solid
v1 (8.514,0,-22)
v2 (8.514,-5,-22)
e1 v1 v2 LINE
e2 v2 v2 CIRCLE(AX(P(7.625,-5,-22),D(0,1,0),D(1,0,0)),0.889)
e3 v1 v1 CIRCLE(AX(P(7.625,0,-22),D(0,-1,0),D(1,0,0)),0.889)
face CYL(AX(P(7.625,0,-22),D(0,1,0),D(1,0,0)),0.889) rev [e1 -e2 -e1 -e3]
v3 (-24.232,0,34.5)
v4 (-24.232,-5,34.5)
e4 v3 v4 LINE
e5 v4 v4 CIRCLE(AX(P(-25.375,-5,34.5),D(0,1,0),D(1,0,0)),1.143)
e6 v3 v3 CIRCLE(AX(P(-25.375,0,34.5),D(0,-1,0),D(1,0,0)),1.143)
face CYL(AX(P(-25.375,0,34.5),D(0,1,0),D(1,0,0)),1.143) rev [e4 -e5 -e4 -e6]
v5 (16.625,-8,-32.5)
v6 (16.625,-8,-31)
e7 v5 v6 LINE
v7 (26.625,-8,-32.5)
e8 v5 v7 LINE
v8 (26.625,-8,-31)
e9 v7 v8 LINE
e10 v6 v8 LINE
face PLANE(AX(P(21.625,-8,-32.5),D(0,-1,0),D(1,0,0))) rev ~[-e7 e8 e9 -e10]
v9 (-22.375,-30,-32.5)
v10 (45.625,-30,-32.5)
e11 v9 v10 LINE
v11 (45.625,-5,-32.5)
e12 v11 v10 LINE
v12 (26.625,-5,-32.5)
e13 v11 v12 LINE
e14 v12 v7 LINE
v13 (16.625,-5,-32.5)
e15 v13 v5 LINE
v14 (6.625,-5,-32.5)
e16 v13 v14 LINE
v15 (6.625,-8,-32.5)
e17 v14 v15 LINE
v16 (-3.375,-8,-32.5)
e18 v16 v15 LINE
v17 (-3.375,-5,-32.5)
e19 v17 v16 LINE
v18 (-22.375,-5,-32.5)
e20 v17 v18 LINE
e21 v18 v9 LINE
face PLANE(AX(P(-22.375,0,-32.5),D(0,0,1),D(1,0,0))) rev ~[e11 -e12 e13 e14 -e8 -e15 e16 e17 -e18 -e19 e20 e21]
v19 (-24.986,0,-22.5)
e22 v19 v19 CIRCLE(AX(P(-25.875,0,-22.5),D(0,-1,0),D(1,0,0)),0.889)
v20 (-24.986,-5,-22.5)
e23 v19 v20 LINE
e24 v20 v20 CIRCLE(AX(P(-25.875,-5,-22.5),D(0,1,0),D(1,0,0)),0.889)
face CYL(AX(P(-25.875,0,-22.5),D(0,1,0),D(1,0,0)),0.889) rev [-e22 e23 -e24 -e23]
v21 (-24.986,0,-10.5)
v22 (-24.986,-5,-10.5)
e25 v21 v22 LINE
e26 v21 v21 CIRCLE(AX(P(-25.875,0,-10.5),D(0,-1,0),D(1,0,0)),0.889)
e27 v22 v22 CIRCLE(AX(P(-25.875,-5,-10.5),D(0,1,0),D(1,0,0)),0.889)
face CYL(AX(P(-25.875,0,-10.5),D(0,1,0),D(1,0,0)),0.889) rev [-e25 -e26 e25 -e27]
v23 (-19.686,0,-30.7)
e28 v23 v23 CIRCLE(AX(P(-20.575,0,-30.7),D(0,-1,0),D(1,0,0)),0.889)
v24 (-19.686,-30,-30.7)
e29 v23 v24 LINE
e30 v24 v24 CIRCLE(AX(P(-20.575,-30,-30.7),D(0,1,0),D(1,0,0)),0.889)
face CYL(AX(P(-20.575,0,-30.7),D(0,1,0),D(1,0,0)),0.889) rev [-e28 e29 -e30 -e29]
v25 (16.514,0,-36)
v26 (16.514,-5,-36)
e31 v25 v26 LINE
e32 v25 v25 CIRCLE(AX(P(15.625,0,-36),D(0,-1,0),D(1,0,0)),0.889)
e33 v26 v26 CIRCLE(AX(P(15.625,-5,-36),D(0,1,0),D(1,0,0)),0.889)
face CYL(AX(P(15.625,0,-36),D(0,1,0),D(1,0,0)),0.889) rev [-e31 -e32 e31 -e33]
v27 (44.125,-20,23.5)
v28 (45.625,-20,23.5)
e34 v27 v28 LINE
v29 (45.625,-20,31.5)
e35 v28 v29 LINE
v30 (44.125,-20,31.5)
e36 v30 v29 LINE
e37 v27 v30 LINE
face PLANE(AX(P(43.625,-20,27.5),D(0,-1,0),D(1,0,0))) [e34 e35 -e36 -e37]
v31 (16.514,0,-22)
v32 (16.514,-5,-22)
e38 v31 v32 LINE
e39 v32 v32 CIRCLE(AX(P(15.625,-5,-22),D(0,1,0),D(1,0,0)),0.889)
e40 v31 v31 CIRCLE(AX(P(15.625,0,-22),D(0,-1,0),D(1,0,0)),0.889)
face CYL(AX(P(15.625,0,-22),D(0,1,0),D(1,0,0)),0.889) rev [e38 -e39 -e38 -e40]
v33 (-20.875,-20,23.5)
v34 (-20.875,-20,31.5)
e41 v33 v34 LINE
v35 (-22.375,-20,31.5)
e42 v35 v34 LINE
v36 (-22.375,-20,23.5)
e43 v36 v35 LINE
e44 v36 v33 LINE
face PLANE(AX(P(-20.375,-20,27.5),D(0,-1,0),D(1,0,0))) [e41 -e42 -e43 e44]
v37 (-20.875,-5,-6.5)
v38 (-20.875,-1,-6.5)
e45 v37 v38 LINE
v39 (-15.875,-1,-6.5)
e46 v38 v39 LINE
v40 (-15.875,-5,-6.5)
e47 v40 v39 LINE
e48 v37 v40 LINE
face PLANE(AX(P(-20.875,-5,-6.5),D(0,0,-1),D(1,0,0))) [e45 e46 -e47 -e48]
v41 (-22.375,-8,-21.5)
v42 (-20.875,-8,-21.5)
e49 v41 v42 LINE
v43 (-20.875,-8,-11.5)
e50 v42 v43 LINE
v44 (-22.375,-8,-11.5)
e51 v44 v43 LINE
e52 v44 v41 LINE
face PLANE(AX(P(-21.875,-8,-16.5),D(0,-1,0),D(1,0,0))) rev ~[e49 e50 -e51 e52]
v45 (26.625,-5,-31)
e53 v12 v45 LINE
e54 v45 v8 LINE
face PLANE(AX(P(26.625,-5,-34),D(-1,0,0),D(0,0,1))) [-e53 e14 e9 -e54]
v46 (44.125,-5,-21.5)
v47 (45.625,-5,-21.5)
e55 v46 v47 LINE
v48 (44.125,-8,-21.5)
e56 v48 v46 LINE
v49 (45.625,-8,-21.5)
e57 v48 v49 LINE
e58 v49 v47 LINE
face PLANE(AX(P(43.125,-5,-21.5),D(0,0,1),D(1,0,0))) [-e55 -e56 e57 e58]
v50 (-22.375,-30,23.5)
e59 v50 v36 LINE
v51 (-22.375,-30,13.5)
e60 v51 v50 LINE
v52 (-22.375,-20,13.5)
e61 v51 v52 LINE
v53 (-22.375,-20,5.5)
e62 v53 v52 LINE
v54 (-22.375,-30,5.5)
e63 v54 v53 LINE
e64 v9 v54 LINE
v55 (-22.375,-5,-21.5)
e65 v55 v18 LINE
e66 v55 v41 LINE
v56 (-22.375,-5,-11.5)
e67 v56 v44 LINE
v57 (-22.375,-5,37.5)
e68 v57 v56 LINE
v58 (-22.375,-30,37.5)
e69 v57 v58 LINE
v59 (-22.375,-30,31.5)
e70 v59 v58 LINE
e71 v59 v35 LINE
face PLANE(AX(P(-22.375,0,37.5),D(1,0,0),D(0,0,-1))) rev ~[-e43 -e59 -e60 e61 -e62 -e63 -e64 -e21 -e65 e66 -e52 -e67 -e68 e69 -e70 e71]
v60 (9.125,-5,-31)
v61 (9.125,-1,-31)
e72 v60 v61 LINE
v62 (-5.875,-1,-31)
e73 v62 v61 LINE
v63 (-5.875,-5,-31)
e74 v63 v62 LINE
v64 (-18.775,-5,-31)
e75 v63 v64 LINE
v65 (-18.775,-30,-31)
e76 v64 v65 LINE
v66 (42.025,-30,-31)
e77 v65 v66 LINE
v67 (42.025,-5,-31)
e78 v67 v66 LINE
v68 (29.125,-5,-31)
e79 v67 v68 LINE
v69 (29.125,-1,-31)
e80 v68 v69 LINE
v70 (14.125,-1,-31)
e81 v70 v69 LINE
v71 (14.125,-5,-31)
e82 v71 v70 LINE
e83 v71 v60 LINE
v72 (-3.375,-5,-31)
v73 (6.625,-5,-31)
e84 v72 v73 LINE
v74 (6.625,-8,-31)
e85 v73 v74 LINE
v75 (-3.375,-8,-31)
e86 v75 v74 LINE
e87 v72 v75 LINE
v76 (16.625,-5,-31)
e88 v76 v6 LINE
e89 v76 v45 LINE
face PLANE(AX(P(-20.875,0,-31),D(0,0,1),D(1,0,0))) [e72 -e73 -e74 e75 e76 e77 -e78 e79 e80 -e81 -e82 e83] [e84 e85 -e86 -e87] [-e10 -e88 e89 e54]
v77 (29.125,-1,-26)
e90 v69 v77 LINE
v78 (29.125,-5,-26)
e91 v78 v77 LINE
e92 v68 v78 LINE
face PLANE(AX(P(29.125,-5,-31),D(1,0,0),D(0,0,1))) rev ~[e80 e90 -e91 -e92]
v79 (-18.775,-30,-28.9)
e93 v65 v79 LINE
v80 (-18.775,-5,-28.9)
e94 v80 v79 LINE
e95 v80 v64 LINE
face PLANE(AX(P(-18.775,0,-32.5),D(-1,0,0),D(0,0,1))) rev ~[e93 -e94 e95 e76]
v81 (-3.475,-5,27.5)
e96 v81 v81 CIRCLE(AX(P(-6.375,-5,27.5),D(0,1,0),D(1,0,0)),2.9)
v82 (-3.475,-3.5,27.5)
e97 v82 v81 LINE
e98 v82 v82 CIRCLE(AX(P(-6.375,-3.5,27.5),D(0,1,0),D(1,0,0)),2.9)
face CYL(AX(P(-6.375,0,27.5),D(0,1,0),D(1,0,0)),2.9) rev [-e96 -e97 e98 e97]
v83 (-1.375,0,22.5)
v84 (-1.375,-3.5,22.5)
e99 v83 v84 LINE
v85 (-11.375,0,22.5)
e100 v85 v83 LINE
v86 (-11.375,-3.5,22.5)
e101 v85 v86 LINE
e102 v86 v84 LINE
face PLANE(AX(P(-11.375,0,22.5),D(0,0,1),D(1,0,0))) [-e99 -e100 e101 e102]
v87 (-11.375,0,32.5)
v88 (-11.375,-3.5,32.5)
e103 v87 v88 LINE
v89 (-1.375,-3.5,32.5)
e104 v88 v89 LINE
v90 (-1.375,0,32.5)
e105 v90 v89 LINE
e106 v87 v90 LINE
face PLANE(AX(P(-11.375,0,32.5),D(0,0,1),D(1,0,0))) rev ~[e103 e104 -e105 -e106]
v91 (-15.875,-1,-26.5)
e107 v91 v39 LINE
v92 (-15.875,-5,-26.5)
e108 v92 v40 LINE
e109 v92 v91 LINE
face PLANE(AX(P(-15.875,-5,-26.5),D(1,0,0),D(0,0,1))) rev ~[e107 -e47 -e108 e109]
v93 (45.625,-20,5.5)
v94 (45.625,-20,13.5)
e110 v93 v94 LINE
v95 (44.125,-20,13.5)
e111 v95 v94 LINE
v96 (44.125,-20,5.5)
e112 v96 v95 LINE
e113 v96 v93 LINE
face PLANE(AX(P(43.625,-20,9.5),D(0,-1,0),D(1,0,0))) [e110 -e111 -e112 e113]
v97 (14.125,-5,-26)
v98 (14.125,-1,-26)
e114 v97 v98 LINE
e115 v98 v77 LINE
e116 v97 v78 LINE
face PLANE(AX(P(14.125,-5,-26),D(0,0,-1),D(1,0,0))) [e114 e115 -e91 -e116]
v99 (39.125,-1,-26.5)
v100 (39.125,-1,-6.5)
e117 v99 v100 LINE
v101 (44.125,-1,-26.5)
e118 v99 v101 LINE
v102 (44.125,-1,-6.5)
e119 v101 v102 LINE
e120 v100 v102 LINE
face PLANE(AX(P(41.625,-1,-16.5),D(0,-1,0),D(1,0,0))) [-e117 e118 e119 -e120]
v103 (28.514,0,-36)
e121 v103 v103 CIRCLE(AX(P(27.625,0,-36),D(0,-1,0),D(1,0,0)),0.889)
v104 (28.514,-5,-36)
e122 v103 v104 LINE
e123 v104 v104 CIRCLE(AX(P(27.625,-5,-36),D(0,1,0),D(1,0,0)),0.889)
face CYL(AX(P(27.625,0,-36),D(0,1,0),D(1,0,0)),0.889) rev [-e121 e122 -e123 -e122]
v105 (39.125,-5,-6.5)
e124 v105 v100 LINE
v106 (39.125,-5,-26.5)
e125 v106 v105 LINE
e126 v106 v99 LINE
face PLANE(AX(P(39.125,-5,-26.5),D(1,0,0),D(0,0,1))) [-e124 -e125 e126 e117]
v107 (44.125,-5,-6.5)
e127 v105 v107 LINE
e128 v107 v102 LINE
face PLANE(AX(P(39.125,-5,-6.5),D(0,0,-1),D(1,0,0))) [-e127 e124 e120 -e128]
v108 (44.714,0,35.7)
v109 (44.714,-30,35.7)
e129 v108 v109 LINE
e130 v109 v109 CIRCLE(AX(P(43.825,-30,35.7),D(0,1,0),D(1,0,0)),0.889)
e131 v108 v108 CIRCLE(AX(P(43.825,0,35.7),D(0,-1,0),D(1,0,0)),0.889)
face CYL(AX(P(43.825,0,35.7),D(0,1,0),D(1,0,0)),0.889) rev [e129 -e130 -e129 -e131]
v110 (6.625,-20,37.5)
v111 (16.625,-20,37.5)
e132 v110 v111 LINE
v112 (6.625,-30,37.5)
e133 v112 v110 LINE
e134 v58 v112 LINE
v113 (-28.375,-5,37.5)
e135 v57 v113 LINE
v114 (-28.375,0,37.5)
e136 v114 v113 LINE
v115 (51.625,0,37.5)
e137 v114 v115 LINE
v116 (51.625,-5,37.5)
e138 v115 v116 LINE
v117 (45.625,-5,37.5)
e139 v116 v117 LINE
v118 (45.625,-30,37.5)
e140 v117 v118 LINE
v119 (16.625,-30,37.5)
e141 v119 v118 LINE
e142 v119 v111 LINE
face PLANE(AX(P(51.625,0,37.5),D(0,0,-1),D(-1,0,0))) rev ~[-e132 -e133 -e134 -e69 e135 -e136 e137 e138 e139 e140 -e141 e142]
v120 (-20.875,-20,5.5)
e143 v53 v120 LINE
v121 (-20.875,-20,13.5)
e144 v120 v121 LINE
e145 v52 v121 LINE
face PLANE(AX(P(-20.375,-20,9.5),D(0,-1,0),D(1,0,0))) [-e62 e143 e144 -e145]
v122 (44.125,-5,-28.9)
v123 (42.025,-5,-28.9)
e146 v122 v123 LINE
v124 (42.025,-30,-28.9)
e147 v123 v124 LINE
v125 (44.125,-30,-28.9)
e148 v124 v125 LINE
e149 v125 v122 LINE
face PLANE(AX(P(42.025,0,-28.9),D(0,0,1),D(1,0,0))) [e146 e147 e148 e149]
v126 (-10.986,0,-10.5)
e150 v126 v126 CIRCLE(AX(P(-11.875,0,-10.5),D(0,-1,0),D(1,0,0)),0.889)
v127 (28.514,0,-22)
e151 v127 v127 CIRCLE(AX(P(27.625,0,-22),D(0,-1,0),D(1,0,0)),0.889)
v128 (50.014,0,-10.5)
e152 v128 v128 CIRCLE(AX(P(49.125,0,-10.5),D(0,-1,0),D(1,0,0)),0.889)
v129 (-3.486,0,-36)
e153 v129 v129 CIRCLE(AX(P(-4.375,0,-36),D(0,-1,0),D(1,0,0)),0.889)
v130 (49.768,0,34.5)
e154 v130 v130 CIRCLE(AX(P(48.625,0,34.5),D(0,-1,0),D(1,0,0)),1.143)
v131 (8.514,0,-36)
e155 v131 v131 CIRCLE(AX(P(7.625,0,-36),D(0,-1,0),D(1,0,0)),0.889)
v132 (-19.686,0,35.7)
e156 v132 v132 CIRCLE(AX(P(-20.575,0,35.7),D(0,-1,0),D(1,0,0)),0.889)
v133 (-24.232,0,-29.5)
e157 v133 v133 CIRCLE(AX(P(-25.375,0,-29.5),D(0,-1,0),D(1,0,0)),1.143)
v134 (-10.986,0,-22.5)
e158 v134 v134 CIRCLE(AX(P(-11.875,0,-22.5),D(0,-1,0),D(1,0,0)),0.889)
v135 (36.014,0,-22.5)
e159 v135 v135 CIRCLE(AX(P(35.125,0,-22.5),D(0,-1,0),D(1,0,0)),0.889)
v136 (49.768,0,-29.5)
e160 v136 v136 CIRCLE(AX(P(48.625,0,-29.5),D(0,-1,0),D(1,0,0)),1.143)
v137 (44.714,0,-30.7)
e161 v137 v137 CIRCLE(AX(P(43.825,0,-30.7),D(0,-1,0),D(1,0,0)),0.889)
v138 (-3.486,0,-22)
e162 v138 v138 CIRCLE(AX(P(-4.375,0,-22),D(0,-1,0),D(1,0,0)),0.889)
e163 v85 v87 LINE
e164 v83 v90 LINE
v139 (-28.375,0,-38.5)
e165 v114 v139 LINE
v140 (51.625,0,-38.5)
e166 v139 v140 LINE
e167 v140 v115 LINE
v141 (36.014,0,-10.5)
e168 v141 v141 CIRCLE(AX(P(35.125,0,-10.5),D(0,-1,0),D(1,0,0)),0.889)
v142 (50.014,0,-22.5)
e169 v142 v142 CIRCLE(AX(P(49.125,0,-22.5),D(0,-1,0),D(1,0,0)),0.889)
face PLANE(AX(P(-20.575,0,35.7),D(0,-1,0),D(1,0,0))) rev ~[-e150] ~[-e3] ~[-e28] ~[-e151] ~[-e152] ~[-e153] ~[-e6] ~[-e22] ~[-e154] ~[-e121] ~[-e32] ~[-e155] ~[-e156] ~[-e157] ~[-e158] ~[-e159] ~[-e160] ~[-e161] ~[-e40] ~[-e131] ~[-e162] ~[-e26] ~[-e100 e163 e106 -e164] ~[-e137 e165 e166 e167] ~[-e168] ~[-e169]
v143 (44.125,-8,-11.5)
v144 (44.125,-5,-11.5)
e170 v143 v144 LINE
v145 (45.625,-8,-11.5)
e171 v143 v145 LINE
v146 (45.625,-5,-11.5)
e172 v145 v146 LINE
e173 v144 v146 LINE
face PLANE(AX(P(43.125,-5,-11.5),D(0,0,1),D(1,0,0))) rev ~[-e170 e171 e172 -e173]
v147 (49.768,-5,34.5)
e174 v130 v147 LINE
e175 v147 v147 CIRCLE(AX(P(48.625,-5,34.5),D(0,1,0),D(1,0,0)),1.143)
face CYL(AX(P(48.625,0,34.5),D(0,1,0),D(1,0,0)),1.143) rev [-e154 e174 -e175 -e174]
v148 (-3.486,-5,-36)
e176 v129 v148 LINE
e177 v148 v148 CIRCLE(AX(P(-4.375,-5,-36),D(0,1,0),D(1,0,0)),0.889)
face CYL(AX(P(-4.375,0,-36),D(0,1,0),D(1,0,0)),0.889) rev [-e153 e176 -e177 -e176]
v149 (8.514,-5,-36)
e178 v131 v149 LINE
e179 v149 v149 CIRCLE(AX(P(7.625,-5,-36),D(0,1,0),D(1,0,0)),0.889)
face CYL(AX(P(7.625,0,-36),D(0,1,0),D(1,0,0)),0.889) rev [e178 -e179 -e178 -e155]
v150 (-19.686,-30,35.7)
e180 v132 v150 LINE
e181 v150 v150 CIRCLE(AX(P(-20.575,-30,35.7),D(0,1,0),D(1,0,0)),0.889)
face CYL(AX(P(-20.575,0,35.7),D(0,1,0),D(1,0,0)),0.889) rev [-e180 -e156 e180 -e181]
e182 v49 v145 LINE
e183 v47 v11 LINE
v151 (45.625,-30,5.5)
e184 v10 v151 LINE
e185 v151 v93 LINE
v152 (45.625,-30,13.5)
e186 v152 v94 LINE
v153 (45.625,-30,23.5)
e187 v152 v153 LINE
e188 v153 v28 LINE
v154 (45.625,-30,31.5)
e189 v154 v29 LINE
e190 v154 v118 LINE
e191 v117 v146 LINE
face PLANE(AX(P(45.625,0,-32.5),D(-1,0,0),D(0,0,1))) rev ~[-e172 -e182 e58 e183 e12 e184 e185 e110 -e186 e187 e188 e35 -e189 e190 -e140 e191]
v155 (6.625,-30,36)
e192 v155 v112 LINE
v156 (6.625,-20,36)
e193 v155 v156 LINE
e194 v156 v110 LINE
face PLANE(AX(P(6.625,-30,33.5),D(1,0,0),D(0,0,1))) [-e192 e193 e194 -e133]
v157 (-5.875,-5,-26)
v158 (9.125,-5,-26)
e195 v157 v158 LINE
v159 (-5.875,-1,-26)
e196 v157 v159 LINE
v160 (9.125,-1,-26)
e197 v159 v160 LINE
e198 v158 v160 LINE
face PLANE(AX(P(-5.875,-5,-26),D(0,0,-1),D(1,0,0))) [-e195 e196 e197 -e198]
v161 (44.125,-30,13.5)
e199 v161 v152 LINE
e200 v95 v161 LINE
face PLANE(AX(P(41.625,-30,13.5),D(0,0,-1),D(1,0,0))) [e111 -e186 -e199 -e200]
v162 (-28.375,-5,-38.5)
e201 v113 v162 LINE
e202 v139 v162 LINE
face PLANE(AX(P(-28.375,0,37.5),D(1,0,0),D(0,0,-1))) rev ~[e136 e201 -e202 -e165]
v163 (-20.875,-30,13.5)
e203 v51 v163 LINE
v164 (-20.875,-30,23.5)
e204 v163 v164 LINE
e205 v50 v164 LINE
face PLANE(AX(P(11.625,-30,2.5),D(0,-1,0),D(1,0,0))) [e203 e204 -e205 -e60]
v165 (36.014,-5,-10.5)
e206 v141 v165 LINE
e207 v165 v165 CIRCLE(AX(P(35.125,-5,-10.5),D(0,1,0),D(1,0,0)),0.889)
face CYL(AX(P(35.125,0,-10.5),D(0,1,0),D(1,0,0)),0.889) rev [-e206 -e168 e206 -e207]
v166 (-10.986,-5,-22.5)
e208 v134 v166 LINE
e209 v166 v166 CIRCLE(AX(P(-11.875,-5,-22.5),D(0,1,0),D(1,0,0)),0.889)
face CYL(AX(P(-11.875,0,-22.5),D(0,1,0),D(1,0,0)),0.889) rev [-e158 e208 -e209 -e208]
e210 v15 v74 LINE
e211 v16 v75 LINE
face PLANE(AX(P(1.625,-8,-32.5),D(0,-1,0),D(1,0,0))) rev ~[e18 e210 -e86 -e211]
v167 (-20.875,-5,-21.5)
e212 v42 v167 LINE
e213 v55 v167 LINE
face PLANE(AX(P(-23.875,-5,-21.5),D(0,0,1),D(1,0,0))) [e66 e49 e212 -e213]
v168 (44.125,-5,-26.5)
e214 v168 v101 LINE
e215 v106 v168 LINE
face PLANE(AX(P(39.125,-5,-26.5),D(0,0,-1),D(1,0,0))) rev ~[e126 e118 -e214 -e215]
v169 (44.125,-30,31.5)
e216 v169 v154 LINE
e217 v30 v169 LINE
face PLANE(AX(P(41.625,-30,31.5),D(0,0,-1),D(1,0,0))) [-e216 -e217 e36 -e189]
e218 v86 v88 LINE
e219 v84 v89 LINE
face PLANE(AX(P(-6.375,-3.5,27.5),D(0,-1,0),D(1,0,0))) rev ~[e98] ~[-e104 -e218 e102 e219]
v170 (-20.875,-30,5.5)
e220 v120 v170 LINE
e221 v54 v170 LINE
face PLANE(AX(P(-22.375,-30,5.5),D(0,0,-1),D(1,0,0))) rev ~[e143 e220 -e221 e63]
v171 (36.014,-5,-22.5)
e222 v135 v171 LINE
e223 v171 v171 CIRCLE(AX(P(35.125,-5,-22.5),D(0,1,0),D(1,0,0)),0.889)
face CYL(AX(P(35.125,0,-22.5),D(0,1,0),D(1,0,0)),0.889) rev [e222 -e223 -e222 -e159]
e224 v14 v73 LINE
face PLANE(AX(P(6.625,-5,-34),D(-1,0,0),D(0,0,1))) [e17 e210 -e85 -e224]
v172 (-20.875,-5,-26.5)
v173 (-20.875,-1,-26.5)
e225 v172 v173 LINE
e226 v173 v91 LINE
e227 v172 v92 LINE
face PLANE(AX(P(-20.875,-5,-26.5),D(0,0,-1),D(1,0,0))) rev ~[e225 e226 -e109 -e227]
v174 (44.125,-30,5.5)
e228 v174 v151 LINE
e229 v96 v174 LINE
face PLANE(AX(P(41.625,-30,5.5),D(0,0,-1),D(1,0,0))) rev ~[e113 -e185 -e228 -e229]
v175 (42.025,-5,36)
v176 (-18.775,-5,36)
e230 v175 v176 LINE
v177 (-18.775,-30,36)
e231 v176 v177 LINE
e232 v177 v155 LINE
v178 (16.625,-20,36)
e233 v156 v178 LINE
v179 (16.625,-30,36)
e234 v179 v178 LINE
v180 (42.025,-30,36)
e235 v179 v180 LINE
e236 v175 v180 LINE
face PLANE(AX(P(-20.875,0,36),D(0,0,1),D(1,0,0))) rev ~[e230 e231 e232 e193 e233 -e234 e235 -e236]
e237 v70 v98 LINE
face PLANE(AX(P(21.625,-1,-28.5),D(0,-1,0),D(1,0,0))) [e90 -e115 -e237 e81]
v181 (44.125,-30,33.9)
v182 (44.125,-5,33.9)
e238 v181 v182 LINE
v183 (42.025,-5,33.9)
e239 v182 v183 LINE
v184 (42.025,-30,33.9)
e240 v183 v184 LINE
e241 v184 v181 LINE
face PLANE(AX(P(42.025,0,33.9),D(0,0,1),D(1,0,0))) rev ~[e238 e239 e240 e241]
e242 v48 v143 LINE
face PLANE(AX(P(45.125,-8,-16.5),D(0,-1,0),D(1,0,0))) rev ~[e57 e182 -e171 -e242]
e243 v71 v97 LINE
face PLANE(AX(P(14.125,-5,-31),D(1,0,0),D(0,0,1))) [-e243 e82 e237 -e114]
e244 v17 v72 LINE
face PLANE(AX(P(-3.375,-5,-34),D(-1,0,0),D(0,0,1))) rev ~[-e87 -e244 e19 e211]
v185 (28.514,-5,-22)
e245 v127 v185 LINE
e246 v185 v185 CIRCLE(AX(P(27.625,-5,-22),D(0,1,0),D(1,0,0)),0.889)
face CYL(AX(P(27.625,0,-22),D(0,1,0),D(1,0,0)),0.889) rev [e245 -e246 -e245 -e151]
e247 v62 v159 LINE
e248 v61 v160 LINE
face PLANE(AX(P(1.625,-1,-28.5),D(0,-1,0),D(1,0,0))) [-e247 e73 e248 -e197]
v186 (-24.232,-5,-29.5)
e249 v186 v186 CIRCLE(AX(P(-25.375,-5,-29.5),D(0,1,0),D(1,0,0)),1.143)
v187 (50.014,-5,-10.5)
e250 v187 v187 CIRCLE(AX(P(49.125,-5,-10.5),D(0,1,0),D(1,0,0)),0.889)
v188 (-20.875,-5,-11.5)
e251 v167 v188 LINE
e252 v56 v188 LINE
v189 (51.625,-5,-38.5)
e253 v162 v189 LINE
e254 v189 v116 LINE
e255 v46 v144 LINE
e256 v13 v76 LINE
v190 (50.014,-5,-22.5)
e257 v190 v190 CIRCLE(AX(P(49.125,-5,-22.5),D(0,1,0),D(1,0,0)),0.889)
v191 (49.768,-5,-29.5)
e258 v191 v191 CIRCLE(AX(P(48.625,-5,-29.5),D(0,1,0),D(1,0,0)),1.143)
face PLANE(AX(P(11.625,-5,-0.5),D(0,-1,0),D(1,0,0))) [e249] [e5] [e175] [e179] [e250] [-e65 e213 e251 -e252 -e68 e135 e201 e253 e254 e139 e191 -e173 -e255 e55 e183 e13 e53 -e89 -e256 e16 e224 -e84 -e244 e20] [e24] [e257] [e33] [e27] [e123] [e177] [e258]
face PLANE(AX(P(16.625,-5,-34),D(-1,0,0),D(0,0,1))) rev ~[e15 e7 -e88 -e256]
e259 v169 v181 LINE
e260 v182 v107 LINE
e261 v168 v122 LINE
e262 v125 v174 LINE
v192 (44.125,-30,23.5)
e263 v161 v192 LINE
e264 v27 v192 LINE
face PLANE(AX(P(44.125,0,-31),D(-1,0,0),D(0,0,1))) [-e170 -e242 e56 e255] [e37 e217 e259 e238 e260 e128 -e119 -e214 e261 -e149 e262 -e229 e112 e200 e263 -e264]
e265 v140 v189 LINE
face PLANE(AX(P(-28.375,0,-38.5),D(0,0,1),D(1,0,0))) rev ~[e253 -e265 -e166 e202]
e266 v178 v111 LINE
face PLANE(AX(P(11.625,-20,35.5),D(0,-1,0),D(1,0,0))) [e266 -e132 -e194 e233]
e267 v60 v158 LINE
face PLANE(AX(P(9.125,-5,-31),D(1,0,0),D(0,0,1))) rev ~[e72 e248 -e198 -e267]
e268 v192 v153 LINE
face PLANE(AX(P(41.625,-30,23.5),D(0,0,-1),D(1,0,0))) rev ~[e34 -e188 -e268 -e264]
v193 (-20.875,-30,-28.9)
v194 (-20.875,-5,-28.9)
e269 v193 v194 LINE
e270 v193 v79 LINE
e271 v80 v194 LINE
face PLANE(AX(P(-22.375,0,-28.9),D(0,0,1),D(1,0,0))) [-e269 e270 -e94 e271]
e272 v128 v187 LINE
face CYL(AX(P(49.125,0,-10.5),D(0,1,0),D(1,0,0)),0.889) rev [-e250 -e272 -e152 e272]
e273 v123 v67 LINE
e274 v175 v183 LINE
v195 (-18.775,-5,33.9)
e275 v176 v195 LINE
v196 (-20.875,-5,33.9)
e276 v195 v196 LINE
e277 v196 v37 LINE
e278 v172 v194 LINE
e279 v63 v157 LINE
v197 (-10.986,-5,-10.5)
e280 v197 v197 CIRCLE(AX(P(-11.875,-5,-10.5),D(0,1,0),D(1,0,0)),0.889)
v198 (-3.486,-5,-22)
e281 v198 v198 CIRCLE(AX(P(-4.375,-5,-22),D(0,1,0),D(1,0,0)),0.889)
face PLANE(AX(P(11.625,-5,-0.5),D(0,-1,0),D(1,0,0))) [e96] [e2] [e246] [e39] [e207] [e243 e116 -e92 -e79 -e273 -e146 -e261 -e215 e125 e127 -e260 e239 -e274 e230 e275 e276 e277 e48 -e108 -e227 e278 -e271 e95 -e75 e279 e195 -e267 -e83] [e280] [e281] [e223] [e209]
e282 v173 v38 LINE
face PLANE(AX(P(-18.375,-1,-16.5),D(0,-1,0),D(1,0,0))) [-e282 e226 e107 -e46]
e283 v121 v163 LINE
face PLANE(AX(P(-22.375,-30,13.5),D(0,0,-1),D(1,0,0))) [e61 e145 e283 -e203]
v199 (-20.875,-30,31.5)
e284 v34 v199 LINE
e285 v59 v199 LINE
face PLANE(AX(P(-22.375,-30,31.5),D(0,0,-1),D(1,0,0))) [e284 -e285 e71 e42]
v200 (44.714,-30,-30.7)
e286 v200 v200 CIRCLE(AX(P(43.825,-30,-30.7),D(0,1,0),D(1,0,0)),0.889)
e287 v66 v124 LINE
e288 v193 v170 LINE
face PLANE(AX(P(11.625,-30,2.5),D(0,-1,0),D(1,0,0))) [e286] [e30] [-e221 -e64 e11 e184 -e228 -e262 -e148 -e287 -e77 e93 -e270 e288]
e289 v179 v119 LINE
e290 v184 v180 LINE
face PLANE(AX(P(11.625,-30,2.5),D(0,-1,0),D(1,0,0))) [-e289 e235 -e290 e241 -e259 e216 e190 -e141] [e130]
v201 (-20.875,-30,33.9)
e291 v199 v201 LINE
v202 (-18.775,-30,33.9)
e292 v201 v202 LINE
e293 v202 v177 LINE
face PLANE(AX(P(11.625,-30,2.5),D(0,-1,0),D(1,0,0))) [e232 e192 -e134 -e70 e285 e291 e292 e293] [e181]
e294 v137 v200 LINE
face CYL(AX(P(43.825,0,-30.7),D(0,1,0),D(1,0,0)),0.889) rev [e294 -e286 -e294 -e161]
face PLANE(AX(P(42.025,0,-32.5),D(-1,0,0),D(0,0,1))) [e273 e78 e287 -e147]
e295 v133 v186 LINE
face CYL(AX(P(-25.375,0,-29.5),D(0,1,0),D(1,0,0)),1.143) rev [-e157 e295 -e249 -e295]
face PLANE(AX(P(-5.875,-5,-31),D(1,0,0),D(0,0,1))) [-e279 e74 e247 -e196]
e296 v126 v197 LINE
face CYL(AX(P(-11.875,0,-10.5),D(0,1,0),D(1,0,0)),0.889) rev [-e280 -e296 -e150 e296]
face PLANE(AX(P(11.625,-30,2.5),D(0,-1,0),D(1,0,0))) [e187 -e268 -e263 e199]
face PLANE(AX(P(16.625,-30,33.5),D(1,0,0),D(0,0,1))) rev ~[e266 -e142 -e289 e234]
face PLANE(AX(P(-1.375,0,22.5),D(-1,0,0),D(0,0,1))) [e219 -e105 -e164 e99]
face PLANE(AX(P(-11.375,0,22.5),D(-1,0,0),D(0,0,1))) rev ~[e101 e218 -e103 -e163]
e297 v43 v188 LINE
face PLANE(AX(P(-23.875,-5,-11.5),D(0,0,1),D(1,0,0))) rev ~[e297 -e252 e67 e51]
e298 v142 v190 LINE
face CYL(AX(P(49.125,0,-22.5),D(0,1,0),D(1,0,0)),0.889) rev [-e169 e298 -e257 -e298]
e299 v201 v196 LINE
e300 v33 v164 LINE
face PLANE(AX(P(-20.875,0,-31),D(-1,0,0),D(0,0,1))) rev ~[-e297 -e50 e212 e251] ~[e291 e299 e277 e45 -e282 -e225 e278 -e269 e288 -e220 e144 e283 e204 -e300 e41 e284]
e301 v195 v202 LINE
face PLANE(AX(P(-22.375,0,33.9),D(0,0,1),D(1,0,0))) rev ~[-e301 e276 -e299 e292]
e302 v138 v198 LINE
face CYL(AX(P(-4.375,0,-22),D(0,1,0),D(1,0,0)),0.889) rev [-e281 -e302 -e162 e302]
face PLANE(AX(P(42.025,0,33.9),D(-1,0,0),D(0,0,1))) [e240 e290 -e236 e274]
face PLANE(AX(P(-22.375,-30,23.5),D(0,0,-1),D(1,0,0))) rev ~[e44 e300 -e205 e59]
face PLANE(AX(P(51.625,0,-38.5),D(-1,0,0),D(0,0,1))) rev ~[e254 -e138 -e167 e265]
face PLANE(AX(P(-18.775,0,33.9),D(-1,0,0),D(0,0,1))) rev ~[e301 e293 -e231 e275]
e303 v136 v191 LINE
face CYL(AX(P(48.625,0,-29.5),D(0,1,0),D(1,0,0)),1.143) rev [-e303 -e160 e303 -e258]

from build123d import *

# Parameters (mm, degrees)
F4_DEPTH  = 5
F5_W      = 65
F5_H      = 67
F7_DEPTH  = 30
F8_W      = 5
F8_H      = 20
F8_W_2    = 15
F8_H_2    = 5
F9_DEPTH  = 4
F6_W      = 3.6
F6_H      = 3.6
F10_DEPTH = 30
F11_W     = 4
F11_H     = 10
F11_W_2   = 10
F11_H_2   = 3
F12_DEPTH = 3
F13_W     = 10
F13_H     = 4
F13_W_2   = 4
F13_H_2   = 8
F14_DEPTH = 10
F3_R      = 0.889
F3_R_2    = 1.143
F3_R_3    = 2.9
F15_DEPTH = 30.001
F16_W     = 10
F16_H     = 10
F17_DEPTH = 3.5


with BuildPart() as f4:
    # F1 (on Front) → F4 (new body)
    with BuildSketch(Plane.XZ):
        Polygon((51.625, -32.5), (51.625, 37.5), (-28.375, 37.5), (-28.375, -32.5), (-28.375, -38.5), (51.625, -38.5), align=None)
    extrude(amount=F4_DEPTH)

    # F5 (on Front) → F7 (join)
    with BuildSketch(Plane.XZ):
        Polygon((45.625, 37.5), (-22.375, 37.5), (-22.375, -32.5), (45.625, -32.5), (45.625, -26.5), align=None)
        with Locations((11.625, 2.5)):
            Rectangle(F5_W, F5_H, mode=Mode.SUBTRACT)
    extrude(amount=F7_DEPTH)

    # F8 (on face) → F9 (cut)
    with BuildSketch(Plane.XZ.offset(5)):
        with Locations((-18.375, -16.5)):
            Rectangle(F8_W, F8_H)
        with Locations((1.625, -28.5)):
            Rectangle(F8_W_2, F8_H_2)
        with Locations((21.625, -28.5)):
            Rectangle(F8_W_2, F8_H_2)
        with Locations((41.625, -16.5)):
            Rectangle(F8_W, F8_H)
    extrude(amount=-F9_DEPTH, mode=Mode.SUBTRACT)

    # F6 (on Front) → F10 (join)
    with BuildSketch(Plane.XZ):
        with Locations((-20.575, 35.7)):
            Rectangle(F6_W, F6_H)
        with Locations((43.825, 35.7)):
            Rectangle(F6_W, F6_H)
        with Locations((-20.575, -30.7)):
            Rectangle(F6_W, F6_H)
        with Locations((43.825, -30.7)):
            Rectangle(F6_W, F6_H)
    extrude(amount=F10_DEPTH)

    # F11 (on face) → F12 (cut)
    with BuildSketch(Plane.XZ.offset(5)):
        with Locations((-21.875, -16.5)):
            Rectangle(F11_W, F11_H)
        with Locations((45.125, -16.5)):
            Rectangle(F11_W, F11_H)
        with Locations((21.625, -32.5)):
            Rectangle(F11_W_2, F11_H_2)
        with Locations((1.625, -32.5)):
            Rectangle(F11_W_2, F11_H_2)
    extrude(amount=F12_DEPTH, mode=Mode.SUBTRACT)

    # F13 (on face) → F14 (cut)
    with BuildSketch(Plane.XZ.offset(30)):
        with Locations((11.625, 35.5)):
            Rectangle(F13_W, F13_H)
        with Locations((-20.375, 27.5)):
            Rectangle(F13_W_2, F13_H_2)
        with Locations((-20.375, 9.5)):
            Rectangle(F13_W_2, F13_H_2)
        with Locations((43.625, 27.5)):
            Rectangle(F13_W_2, F13_H_2)
        with Locations((43.625, 9.5)):
            Rectangle(F13_W_2, F13_H_2)
    extrude(amount=-F14_DEPTH, mode=Mode.SUBTRACT)

    # F3 (on Front) → F15 (cut, through all)
    with BuildSketch(Plane.XZ):
        with Locations((-11.875, -10.5)):
            Circle(F3_R)
        with Locations((-25.875, -10.5)):
            Circle(F3_R)
        with Locations((-25.875, -22.5)):
            Circle(F3_R)
        with Locations((-11.875, -22.5)):
            Circle(F3_R)
        with Locations((-25.375, -29.5)):
            Circle(F3_R_2)
        with Locations((-25.375, 34.5)):
            Circle(F3_R_2)
        with Locations((48.625, 34.5)):
            Circle(F3_R_2)
        with Locations((35.125, -10.5)):
            Circle(F3_R)
        with Locations((35.125, -22.5)):
            Circle(F3_R)
        with Locations((49.125, -10.5)):
            Circle(F3_R)
        with Locations((49.125, -22.5)):
            Circle(F3_R)
        with Locations((48.625, -29.5)):
            Circle(F3_R_2)
        with Locations((-20.575, 35.7)):
            Circle(F3_R)
        with Locations((43.825, 35.7)):
            Circle(F3_R)
        with Locations((-20.575, -30.7)):
            Circle(F3_R)
        with Locations((-4.375, -22)):
            Circle(F3_R)
        with Locations((7.625, -22)):
            Circle(F3_R)
        with Locations((-4.375, -36)):
            Circle(F3_R)
        with Locations((7.625, -36)):
            Circle(F3_R)
        with Locations((15.625, -22)):
            Circle(F3_R)
        with Locations((27.625, -22)):
            Circle(F3_R)
        with Locations((27.625, -36)):
            Circle(F3_R)
        with Locations((15.625, -36)):
            Circle(F3_R)
        with Locations((43.825, -30.7)):
            Circle(F3_R)
        with Locations((-6.375, 27.5)):
            Circle(F3_R_3)
    extrude(amount=F15_DEPTH, mode=Mode.SUBTRACT)

    # F16 (on Front) → F17 (cut)
    with BuildSketch(Plane.XZ):
        with Locations((-6.375, 27.5)):
            Rectangle(F16_W, F16_H)
    extrude(amount=F17_DEPTH, mode=Mode.SUBTRACT)


solid = f4.part
